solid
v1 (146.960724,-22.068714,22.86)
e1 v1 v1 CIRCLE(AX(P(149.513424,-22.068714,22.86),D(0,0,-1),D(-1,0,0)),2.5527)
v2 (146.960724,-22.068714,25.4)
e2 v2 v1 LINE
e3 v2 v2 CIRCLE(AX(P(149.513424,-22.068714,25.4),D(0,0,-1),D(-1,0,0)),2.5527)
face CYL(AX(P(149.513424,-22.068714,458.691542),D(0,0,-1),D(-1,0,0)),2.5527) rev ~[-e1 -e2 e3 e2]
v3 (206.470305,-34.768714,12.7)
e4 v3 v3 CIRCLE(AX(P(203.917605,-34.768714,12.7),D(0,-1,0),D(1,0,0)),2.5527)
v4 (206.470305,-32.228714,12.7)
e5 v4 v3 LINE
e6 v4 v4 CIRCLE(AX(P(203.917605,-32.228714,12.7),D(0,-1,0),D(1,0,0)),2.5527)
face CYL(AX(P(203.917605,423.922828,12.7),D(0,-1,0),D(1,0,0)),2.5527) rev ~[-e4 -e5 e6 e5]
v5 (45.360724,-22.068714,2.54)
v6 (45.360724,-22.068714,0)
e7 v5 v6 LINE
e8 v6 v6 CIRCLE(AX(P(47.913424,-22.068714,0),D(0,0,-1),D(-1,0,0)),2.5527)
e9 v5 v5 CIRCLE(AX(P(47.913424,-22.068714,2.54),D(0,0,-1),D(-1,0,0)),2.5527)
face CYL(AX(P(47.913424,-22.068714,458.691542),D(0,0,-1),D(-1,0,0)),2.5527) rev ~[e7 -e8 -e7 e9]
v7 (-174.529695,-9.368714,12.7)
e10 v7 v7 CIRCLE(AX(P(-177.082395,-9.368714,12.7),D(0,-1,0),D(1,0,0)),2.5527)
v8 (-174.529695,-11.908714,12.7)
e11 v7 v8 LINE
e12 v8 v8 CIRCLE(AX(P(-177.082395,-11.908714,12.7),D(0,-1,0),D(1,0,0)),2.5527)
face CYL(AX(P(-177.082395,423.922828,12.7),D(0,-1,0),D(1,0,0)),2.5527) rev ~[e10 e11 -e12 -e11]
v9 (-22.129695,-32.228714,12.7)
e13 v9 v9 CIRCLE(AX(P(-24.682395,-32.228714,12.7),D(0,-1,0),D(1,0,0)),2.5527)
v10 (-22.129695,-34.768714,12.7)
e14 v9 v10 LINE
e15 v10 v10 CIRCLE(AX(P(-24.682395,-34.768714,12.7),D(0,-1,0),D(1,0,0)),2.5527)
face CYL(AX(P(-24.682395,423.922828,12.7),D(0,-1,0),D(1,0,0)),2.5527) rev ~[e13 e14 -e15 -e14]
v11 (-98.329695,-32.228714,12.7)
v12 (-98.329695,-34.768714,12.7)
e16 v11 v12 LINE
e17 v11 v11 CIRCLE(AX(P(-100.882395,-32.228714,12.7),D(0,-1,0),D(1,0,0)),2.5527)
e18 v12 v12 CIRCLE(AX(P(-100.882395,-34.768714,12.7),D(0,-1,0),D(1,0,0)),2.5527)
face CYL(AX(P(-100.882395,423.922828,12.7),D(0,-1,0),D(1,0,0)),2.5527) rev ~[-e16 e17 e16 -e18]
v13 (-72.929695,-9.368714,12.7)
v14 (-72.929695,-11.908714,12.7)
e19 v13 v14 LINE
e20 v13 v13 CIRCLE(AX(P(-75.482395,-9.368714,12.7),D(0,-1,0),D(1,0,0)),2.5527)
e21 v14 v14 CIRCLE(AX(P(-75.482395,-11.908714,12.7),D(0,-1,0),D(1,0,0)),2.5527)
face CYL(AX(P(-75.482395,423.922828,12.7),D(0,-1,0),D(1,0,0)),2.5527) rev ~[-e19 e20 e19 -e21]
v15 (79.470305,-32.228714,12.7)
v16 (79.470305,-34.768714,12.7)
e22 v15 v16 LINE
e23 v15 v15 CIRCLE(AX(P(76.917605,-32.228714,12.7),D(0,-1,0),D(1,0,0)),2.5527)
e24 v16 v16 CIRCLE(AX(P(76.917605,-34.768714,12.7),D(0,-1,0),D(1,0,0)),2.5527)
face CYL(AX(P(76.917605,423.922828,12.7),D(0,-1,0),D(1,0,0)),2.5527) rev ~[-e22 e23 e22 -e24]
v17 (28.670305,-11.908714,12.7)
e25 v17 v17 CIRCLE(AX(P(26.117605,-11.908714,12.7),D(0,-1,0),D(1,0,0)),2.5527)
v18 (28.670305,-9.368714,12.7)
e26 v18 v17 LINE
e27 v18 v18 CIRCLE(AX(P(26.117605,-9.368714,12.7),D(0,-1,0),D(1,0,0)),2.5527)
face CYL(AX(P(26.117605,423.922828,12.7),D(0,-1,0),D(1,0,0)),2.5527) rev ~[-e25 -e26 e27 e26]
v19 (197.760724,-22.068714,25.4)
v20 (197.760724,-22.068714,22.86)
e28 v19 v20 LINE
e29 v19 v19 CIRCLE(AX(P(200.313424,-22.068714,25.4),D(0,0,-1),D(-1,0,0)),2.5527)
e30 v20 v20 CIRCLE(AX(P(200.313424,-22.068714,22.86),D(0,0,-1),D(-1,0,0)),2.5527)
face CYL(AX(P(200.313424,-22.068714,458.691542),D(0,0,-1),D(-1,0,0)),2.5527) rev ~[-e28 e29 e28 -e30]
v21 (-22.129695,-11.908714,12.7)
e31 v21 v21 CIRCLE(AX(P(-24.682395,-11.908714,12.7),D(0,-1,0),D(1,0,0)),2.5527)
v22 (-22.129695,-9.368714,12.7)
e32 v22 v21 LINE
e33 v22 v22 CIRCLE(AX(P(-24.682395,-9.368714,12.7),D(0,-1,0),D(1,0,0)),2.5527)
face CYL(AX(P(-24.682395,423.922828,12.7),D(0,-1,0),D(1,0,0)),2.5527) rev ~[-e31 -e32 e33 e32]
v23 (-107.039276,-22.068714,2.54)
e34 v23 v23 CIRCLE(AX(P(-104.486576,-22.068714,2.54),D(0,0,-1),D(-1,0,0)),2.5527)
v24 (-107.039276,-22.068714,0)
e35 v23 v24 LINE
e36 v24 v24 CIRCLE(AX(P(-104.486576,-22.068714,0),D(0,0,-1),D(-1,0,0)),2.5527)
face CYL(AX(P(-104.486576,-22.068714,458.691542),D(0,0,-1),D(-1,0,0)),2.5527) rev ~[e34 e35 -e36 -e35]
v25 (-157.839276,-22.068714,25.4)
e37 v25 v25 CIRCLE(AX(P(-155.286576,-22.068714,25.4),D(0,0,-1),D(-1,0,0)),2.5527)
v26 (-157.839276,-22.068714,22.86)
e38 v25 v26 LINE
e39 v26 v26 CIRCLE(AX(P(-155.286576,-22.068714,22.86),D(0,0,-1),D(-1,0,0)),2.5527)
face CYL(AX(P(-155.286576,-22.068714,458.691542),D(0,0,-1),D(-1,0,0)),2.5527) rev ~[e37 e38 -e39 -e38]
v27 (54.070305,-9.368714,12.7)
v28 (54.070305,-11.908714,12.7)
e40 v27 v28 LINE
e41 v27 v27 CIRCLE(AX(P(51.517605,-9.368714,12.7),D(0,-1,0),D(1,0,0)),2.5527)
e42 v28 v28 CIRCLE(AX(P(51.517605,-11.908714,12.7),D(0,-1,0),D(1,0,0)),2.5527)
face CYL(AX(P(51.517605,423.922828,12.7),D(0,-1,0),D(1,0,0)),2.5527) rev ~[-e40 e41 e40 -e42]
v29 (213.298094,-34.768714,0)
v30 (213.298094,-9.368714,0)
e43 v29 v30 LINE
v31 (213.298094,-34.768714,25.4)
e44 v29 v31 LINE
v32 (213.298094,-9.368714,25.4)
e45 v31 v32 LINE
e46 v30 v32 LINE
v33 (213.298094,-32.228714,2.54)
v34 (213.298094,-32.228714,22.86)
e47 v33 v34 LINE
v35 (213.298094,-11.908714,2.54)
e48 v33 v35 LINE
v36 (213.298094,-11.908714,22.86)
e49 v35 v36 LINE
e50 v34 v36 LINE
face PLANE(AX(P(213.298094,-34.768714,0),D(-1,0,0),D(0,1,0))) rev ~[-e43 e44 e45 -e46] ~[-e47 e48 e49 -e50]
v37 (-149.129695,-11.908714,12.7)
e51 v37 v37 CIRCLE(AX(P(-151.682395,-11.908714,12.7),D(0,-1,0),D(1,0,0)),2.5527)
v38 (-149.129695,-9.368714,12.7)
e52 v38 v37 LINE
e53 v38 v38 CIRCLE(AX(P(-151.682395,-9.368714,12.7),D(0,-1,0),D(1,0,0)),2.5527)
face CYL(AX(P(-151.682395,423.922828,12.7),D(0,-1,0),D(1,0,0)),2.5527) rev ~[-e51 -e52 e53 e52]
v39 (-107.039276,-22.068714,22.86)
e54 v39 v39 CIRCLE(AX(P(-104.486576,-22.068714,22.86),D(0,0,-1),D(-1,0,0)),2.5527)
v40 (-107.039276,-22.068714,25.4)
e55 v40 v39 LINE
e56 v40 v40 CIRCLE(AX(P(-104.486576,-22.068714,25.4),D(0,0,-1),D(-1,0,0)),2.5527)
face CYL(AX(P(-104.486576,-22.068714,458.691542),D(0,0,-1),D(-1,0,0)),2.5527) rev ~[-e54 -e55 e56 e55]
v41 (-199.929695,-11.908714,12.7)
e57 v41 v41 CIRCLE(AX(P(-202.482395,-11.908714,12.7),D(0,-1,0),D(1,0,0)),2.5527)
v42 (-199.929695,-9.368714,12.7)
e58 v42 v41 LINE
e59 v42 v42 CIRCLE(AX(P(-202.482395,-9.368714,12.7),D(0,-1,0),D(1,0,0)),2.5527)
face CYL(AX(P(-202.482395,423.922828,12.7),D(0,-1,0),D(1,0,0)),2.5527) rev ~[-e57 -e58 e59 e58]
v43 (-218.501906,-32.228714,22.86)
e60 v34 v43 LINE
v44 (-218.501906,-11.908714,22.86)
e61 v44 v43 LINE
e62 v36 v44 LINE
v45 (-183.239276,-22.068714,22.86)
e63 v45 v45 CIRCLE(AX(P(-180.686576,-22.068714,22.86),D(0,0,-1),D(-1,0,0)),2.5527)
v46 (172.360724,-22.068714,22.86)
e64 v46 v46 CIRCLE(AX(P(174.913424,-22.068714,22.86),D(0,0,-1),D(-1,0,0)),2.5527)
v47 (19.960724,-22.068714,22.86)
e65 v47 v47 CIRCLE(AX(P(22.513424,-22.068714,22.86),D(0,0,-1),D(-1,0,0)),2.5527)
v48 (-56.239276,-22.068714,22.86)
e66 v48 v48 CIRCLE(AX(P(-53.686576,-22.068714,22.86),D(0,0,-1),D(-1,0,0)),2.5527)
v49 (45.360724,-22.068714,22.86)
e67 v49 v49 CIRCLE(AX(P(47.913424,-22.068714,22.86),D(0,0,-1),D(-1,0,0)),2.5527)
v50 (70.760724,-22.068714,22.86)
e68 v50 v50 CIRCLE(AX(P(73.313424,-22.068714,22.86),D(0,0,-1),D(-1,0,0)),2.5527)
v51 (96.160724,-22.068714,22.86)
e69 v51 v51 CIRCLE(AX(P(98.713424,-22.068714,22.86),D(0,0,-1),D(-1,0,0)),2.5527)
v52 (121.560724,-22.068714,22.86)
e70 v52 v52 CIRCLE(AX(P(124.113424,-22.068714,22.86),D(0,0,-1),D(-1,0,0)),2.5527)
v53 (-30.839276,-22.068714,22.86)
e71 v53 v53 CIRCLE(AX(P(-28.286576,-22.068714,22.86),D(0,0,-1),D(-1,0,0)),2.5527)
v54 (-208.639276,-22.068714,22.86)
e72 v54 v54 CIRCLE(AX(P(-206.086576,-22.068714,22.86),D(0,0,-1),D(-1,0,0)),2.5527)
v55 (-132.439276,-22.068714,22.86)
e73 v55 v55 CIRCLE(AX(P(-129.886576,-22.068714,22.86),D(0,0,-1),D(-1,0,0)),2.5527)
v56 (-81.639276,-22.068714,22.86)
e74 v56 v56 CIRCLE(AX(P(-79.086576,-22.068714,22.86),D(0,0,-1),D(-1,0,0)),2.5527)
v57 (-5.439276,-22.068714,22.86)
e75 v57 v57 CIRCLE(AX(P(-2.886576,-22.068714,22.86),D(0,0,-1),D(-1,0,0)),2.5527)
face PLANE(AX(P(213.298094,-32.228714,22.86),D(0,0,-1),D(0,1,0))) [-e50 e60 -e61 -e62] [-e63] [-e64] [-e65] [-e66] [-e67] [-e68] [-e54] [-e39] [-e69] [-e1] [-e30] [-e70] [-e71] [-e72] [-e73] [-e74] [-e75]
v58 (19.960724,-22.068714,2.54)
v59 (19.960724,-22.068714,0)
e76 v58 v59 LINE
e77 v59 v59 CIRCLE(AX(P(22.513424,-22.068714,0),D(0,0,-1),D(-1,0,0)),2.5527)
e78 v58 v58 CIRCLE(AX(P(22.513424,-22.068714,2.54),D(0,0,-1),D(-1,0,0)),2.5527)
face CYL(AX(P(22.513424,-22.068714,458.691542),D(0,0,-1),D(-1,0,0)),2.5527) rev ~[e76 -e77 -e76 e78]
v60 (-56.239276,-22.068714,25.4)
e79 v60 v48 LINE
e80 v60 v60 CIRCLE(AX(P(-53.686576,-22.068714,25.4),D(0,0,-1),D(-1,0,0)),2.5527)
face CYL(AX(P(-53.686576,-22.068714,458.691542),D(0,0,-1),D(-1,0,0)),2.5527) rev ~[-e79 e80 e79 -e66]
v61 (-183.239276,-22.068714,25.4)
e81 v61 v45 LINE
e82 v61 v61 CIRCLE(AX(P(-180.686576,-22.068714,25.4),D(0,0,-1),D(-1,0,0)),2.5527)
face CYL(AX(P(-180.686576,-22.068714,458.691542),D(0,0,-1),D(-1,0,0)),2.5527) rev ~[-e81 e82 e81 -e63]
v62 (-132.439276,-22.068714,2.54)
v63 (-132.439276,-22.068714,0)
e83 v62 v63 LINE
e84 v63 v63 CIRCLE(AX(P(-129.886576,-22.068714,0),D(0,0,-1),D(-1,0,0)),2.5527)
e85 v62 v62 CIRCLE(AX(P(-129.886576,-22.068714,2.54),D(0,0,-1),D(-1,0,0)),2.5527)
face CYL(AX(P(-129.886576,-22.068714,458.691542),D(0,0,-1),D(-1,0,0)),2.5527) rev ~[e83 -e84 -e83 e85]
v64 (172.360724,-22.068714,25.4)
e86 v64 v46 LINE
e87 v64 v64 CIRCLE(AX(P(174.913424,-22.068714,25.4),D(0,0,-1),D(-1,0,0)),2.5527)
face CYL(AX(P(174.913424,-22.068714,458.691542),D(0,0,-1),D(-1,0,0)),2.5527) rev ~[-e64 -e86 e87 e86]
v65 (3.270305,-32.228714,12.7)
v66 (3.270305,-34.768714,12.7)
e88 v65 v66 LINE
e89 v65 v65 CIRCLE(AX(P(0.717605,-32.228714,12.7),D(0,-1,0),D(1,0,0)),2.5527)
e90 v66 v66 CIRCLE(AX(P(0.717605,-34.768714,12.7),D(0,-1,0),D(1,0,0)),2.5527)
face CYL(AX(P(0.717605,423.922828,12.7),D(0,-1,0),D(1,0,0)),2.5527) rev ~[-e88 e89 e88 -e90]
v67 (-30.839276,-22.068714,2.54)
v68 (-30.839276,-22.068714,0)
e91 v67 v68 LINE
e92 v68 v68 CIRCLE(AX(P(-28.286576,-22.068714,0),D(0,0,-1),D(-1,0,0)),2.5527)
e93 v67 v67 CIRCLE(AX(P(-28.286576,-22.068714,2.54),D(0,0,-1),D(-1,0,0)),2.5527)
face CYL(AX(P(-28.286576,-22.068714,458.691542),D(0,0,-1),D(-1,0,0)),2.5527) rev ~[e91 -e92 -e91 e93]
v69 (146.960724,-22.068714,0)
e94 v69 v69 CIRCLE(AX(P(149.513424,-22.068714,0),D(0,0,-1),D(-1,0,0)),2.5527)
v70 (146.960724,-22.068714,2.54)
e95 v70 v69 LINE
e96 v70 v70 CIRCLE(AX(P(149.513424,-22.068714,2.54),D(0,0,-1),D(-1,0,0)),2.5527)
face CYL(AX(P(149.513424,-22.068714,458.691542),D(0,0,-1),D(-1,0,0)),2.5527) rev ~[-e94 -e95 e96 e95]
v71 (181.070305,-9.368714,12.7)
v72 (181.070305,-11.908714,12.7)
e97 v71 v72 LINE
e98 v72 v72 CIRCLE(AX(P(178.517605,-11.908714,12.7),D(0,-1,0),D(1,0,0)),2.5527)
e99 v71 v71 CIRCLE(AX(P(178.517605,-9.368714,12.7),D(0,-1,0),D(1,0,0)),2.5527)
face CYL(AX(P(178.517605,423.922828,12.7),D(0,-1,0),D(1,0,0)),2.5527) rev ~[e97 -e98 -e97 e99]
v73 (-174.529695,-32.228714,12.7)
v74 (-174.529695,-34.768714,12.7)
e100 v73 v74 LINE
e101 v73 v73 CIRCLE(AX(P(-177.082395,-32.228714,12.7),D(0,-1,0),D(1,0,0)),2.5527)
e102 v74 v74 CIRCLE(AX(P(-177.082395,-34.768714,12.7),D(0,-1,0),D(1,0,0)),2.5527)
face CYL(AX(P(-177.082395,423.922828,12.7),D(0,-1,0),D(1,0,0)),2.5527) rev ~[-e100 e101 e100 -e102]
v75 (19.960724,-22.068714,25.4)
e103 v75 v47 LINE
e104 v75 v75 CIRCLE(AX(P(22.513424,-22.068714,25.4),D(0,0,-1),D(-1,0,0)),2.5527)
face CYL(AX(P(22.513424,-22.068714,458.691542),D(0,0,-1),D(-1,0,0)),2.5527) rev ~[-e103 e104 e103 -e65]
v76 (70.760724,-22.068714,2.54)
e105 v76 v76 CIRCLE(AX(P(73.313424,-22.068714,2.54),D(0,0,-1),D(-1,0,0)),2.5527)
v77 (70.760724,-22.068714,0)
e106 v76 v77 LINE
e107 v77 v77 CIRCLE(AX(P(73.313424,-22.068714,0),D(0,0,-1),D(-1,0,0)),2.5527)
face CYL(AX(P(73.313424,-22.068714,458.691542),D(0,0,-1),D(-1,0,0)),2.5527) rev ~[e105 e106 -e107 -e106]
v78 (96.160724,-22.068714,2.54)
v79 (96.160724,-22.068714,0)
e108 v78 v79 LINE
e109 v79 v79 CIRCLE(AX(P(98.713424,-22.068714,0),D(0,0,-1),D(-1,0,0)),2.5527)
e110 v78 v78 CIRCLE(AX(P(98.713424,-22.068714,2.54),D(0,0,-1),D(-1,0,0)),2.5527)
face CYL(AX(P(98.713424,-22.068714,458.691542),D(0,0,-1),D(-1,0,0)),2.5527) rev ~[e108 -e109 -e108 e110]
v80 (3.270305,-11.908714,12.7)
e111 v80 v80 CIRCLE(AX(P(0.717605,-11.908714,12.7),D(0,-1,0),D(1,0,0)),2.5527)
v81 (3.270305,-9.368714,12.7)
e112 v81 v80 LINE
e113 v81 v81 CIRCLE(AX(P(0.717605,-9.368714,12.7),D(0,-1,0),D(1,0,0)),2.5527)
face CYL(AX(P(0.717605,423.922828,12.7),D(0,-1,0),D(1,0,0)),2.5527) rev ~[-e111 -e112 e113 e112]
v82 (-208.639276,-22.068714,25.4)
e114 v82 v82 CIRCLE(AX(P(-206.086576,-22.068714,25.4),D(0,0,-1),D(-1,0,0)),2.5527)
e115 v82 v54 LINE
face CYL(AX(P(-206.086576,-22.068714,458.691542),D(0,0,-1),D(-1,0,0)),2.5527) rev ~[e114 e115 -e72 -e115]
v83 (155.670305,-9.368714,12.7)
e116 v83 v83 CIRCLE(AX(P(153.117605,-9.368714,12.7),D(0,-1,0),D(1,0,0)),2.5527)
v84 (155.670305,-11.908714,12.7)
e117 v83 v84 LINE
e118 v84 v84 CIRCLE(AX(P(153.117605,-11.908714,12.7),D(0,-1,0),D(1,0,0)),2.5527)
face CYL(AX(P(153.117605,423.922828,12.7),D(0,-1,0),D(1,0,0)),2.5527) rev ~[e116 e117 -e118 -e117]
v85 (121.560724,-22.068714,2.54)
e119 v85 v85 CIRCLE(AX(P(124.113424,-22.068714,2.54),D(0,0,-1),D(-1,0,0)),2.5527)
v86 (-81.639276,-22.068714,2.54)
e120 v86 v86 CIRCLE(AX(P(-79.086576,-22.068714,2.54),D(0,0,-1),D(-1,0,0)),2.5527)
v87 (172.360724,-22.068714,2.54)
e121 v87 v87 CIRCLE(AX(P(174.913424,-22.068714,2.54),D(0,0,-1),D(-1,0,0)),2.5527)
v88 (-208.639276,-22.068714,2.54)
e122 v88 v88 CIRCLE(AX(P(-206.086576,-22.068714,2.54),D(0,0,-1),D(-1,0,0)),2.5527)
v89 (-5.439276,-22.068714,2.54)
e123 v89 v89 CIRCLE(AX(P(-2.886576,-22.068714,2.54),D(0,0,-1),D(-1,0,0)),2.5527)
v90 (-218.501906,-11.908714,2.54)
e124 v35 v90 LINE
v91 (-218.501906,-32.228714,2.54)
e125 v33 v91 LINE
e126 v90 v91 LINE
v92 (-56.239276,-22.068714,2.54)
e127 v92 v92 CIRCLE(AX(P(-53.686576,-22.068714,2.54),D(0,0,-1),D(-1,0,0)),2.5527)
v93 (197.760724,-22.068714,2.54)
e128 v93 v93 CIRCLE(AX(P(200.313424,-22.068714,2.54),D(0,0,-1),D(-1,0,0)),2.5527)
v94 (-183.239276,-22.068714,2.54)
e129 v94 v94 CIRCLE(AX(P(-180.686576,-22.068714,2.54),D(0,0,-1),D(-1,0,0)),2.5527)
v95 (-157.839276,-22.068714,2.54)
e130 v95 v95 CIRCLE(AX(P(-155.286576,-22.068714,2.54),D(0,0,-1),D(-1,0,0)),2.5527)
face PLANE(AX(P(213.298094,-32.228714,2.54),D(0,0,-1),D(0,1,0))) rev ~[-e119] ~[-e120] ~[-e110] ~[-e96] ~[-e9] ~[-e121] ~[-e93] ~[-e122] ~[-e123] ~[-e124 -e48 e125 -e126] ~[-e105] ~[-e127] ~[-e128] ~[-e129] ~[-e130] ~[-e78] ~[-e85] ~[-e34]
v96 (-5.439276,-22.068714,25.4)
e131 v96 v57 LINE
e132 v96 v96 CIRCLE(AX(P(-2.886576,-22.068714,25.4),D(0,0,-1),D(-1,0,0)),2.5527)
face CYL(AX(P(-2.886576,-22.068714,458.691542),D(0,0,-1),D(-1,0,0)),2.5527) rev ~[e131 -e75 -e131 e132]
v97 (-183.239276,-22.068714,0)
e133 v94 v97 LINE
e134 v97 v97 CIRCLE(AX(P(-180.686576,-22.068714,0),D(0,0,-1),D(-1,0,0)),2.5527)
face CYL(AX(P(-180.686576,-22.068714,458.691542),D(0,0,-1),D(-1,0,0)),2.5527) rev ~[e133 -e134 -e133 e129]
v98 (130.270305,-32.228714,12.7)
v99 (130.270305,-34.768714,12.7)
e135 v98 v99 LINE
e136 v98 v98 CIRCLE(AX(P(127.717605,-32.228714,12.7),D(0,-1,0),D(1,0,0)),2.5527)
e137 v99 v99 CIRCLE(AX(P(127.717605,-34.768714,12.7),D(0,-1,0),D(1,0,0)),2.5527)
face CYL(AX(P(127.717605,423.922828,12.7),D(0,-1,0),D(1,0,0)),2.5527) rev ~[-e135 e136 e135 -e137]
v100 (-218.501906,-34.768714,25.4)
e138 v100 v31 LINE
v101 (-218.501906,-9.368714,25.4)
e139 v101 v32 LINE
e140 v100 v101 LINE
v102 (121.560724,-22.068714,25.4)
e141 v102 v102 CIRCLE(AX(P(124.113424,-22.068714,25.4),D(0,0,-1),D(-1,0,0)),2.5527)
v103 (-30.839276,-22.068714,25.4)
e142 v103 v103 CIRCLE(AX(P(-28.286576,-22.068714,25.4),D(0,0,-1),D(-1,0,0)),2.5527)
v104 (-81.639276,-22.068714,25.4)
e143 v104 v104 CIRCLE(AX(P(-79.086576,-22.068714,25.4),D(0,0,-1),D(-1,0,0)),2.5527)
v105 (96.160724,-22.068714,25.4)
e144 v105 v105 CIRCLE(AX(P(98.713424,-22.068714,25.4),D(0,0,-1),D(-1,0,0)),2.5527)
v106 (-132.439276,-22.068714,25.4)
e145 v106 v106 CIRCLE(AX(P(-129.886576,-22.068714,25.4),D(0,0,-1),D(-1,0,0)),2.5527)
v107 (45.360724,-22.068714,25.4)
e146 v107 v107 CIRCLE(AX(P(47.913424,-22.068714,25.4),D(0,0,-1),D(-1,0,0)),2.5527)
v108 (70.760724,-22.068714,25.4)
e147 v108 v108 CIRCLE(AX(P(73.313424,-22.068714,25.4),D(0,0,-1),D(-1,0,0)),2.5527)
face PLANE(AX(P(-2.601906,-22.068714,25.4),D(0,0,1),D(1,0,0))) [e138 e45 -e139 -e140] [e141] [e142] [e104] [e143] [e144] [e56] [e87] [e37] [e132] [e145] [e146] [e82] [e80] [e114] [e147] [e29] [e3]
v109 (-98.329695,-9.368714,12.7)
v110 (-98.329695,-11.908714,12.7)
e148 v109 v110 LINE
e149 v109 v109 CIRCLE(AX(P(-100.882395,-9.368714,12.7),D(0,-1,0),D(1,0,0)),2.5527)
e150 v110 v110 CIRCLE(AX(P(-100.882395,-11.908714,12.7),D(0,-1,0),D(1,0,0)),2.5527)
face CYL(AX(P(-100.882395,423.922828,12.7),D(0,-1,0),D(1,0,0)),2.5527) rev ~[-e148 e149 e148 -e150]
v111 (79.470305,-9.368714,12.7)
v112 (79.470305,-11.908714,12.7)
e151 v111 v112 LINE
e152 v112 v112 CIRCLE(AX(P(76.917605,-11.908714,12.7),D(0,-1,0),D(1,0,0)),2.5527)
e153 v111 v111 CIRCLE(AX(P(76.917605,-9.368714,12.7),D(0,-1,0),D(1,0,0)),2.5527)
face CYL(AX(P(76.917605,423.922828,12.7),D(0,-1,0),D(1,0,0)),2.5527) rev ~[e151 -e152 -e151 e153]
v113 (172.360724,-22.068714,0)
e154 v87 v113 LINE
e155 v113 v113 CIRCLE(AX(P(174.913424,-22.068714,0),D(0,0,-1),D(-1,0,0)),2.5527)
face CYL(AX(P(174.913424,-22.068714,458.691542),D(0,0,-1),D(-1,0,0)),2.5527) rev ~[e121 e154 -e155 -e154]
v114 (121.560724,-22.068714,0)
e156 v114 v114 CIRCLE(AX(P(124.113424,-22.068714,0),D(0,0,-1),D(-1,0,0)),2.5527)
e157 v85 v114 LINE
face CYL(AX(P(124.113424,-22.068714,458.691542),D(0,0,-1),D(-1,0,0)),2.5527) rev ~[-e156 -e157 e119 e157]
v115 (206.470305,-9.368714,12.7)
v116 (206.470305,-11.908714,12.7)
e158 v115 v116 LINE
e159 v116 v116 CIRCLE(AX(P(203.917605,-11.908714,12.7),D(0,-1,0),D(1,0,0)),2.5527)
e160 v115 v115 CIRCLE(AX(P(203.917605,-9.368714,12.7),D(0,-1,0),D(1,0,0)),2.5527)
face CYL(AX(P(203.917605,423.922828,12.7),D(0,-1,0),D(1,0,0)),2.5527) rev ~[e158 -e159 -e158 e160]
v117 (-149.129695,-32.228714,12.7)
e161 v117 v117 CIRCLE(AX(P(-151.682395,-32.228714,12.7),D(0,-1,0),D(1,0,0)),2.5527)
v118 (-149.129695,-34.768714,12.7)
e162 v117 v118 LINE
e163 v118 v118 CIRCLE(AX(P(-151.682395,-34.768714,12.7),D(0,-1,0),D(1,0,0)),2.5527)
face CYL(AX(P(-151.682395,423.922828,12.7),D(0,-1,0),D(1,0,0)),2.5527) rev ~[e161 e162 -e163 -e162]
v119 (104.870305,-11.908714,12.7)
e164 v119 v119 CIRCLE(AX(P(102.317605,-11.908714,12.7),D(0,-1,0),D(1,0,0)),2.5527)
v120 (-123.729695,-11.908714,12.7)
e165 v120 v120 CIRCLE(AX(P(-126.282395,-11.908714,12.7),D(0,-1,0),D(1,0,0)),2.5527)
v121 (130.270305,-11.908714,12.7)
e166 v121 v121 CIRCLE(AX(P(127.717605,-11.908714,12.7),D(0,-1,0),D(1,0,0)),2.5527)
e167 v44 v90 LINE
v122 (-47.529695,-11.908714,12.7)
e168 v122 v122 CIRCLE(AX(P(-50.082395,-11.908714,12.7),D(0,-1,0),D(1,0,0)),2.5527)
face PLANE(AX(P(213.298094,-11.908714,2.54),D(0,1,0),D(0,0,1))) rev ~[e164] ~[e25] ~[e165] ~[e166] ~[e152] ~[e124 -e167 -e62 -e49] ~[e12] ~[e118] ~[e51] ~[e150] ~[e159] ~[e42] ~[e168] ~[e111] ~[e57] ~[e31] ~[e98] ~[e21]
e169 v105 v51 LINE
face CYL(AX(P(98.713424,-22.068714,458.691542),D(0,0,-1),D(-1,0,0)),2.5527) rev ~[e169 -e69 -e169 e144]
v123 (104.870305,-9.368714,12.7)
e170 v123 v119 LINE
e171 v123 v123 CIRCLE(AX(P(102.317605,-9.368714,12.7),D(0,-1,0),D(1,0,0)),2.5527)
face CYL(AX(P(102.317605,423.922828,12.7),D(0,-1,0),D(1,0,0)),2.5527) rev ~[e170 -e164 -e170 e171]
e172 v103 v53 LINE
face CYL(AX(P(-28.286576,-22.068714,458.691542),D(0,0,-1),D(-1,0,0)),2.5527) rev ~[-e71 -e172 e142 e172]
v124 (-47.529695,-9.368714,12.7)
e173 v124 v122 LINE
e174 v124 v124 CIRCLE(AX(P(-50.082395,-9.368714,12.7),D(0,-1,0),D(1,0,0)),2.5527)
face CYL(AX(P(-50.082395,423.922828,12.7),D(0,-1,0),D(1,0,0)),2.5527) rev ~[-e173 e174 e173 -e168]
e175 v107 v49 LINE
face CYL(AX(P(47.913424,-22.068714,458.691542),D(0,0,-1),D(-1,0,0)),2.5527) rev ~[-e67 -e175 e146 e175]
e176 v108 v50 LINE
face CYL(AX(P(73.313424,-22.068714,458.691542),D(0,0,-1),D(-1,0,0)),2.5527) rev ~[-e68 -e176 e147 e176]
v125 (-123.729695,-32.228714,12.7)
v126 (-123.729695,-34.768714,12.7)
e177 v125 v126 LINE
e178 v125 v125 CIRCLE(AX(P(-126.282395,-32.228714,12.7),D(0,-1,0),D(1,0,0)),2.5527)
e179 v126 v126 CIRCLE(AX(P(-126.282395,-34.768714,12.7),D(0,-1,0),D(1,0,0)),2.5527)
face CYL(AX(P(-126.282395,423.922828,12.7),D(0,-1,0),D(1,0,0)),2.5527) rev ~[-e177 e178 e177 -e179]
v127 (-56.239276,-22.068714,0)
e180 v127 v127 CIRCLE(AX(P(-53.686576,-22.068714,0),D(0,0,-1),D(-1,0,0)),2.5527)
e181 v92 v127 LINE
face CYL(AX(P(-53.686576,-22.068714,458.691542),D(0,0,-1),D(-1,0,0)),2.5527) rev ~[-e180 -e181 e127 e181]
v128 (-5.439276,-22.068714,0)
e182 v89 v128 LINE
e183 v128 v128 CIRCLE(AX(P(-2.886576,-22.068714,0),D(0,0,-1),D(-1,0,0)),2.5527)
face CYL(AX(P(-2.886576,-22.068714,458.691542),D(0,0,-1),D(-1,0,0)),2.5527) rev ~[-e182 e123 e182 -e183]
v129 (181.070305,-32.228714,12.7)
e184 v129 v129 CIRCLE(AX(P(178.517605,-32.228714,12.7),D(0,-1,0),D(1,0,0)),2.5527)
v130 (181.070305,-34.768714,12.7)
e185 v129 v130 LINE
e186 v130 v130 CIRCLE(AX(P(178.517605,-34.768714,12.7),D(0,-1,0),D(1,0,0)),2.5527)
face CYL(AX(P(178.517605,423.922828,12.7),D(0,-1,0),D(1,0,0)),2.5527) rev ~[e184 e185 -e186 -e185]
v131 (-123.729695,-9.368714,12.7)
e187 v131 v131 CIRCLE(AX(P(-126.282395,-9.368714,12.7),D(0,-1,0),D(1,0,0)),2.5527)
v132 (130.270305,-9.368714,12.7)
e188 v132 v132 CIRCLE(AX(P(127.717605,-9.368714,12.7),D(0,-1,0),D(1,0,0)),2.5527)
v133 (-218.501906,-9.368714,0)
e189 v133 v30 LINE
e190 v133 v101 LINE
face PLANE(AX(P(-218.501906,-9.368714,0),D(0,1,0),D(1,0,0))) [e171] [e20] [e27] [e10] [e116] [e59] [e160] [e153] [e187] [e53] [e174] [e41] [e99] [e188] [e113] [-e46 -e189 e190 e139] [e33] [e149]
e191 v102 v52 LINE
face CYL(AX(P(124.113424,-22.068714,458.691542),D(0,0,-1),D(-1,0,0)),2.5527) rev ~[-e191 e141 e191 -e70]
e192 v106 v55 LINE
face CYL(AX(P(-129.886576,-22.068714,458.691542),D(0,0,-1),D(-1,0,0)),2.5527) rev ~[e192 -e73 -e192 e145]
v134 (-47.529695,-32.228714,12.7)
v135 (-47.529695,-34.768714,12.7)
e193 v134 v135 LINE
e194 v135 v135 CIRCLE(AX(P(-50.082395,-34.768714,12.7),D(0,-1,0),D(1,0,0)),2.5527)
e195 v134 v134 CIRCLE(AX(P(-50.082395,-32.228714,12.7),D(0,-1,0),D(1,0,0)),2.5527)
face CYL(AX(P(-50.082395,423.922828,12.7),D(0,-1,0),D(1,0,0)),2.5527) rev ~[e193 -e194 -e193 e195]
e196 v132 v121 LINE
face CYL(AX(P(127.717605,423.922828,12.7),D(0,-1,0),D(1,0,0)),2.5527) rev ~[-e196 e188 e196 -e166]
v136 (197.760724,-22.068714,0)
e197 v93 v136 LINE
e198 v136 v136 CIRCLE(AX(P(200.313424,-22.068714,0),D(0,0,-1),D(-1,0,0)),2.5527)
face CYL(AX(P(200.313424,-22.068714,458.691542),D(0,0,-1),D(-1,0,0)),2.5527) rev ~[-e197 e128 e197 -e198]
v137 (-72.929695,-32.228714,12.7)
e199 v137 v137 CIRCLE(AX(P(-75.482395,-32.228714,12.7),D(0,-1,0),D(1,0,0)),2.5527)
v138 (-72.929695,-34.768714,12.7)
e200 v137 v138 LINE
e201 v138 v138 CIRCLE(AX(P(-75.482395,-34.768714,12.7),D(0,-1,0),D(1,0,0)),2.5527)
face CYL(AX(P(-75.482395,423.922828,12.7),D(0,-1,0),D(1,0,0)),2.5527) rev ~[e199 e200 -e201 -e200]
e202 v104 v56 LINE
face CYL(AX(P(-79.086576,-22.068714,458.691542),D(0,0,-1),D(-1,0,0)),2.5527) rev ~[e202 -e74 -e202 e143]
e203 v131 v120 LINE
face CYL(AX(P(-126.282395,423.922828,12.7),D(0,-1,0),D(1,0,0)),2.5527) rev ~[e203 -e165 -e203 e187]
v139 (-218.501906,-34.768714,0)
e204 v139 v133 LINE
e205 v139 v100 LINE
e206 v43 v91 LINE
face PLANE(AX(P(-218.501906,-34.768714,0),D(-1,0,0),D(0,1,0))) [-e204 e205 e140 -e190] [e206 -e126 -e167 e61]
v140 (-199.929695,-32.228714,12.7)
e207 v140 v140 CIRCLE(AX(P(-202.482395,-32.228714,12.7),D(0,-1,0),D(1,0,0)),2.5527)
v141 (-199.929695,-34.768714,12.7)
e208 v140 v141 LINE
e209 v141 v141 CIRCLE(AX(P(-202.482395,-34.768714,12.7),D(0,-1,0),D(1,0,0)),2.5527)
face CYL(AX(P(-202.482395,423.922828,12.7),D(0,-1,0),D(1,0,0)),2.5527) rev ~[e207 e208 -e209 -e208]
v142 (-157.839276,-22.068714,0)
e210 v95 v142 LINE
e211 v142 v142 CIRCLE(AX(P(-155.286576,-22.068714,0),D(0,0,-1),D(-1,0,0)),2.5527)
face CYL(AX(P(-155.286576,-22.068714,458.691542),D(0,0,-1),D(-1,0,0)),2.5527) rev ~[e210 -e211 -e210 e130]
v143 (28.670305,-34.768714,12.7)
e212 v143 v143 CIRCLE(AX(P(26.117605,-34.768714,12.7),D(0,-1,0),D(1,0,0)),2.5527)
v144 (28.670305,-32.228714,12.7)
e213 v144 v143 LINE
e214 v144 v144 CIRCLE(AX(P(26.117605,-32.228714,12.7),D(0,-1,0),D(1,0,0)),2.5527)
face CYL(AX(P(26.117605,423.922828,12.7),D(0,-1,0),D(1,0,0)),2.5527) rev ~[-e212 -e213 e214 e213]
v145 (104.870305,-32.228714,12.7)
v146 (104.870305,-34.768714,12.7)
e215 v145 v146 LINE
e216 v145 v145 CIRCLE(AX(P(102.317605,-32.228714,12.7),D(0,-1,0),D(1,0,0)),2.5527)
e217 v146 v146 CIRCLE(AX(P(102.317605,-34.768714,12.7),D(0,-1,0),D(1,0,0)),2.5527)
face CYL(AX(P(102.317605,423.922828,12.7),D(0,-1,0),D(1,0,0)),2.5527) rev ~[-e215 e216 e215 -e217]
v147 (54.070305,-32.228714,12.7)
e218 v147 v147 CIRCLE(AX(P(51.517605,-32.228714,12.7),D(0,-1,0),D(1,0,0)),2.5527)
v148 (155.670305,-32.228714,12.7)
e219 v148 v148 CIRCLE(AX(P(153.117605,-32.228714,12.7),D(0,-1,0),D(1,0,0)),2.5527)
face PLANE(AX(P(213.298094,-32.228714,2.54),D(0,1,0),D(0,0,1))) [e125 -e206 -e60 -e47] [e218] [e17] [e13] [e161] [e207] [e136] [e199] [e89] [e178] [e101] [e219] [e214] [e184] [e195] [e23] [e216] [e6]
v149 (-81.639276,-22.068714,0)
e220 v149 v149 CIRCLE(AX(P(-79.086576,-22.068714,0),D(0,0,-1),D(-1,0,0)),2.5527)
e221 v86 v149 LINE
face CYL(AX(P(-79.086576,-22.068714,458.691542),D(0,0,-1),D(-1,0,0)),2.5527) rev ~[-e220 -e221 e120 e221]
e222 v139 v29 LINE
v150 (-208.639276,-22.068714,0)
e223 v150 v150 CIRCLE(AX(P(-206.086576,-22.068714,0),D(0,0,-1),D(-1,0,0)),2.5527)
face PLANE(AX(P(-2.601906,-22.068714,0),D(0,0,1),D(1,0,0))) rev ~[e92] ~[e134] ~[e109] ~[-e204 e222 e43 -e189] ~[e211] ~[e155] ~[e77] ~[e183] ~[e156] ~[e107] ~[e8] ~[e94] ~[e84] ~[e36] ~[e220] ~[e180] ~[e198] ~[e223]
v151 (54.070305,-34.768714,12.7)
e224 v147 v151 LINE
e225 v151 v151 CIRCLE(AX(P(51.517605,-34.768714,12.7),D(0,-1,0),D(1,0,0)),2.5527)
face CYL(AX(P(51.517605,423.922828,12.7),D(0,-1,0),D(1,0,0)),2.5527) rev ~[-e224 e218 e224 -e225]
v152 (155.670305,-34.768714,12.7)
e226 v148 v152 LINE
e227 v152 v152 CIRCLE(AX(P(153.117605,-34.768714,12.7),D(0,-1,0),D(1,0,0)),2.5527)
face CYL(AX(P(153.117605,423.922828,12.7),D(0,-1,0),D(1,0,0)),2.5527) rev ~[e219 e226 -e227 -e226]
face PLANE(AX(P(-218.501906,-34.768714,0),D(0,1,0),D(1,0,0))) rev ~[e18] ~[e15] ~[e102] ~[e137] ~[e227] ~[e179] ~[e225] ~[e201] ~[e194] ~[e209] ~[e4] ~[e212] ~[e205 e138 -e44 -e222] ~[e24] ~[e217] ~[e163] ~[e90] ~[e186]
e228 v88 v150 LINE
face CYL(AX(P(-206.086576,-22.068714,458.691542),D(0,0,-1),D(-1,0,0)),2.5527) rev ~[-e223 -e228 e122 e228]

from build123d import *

# Parameters (mm, degrees)
F0_W     = 431.8
F0_H     = 25.4
F1_DEPTH = 25.4
F2_W     = 20.32
F2_H     = 20.32
F3_DEPTH = 457.2
F5_D     = 5.1054
F7_D     = 5.1054


with BuildPart() as f1:
    # F0 (on Top) → F1 (new body)
    with BuildSketch(Plane.XY):
        with Locations((-2.601906, -22.068714)):
            Rectangle(F0_W, F0_H)
    extrude(amount=F1_DEPTH)

    # F2 (on face) → F3 (cut)
    with BuildSketch(Plane.YZ.offset(213.298094)):
        with Locations((-22.068714, 12.7)):
            Rectangle(F2_W, F2_H)
    extrude(amount=-F3_DEPTH, mode=Mode.SUBTRACT)

    # F5 (through all)
    with Locations(Plane.XY.offset(25.4)):
        with Locations((200.313424, -22.068714), (149.513424, -22.068714), (225.713424, -22.068714), (73.313424, -22.068714), (98.713424, -22.068714), (124.113424, -22.068714), (-206.086576, -22.068714), (-180.686576, -22.068714), (-155.286576, -22.068714), (-129.886576, -22.068714), (-104.486576, -22.068714), (-79.086576, -22.068714), (-53.686576, -22.068714), (174.913424, -22.068714), (-28.286576, -22.068714), (-2.886576, -22.068714), (22.513424, -22.068714), (47.913424, -22.068714)):
            Hole(F5_D / 2)

    # F7 (through all)
    with Locations(Plane(origin=(0, -9.368714, 0), x_dir=(-1, 0, 0), z_dir=(0, 1, 0))):
        with Locations((177.082395, 12.7), (151.682395, 12.7), (-229.317605, 12.7), (-178.517605, 12.7), (-203.917605, 12.7), (-127.717605, 12.7), (-153.117605, 12.7), (50.082395, 12.7), (100.882395, 12.7), (75.482395, 12.7), (202.482395, 12.7), (126.282395, 12.7), (-76.917605, 12.7), (-102.317605, 12.7), (-26.117605, 12.7), (-51.517605, 12.7), (24.682395, 12.7), (-0.717605, 12.7)):
            Hole(F7_D / 2)


solid = f1.part
